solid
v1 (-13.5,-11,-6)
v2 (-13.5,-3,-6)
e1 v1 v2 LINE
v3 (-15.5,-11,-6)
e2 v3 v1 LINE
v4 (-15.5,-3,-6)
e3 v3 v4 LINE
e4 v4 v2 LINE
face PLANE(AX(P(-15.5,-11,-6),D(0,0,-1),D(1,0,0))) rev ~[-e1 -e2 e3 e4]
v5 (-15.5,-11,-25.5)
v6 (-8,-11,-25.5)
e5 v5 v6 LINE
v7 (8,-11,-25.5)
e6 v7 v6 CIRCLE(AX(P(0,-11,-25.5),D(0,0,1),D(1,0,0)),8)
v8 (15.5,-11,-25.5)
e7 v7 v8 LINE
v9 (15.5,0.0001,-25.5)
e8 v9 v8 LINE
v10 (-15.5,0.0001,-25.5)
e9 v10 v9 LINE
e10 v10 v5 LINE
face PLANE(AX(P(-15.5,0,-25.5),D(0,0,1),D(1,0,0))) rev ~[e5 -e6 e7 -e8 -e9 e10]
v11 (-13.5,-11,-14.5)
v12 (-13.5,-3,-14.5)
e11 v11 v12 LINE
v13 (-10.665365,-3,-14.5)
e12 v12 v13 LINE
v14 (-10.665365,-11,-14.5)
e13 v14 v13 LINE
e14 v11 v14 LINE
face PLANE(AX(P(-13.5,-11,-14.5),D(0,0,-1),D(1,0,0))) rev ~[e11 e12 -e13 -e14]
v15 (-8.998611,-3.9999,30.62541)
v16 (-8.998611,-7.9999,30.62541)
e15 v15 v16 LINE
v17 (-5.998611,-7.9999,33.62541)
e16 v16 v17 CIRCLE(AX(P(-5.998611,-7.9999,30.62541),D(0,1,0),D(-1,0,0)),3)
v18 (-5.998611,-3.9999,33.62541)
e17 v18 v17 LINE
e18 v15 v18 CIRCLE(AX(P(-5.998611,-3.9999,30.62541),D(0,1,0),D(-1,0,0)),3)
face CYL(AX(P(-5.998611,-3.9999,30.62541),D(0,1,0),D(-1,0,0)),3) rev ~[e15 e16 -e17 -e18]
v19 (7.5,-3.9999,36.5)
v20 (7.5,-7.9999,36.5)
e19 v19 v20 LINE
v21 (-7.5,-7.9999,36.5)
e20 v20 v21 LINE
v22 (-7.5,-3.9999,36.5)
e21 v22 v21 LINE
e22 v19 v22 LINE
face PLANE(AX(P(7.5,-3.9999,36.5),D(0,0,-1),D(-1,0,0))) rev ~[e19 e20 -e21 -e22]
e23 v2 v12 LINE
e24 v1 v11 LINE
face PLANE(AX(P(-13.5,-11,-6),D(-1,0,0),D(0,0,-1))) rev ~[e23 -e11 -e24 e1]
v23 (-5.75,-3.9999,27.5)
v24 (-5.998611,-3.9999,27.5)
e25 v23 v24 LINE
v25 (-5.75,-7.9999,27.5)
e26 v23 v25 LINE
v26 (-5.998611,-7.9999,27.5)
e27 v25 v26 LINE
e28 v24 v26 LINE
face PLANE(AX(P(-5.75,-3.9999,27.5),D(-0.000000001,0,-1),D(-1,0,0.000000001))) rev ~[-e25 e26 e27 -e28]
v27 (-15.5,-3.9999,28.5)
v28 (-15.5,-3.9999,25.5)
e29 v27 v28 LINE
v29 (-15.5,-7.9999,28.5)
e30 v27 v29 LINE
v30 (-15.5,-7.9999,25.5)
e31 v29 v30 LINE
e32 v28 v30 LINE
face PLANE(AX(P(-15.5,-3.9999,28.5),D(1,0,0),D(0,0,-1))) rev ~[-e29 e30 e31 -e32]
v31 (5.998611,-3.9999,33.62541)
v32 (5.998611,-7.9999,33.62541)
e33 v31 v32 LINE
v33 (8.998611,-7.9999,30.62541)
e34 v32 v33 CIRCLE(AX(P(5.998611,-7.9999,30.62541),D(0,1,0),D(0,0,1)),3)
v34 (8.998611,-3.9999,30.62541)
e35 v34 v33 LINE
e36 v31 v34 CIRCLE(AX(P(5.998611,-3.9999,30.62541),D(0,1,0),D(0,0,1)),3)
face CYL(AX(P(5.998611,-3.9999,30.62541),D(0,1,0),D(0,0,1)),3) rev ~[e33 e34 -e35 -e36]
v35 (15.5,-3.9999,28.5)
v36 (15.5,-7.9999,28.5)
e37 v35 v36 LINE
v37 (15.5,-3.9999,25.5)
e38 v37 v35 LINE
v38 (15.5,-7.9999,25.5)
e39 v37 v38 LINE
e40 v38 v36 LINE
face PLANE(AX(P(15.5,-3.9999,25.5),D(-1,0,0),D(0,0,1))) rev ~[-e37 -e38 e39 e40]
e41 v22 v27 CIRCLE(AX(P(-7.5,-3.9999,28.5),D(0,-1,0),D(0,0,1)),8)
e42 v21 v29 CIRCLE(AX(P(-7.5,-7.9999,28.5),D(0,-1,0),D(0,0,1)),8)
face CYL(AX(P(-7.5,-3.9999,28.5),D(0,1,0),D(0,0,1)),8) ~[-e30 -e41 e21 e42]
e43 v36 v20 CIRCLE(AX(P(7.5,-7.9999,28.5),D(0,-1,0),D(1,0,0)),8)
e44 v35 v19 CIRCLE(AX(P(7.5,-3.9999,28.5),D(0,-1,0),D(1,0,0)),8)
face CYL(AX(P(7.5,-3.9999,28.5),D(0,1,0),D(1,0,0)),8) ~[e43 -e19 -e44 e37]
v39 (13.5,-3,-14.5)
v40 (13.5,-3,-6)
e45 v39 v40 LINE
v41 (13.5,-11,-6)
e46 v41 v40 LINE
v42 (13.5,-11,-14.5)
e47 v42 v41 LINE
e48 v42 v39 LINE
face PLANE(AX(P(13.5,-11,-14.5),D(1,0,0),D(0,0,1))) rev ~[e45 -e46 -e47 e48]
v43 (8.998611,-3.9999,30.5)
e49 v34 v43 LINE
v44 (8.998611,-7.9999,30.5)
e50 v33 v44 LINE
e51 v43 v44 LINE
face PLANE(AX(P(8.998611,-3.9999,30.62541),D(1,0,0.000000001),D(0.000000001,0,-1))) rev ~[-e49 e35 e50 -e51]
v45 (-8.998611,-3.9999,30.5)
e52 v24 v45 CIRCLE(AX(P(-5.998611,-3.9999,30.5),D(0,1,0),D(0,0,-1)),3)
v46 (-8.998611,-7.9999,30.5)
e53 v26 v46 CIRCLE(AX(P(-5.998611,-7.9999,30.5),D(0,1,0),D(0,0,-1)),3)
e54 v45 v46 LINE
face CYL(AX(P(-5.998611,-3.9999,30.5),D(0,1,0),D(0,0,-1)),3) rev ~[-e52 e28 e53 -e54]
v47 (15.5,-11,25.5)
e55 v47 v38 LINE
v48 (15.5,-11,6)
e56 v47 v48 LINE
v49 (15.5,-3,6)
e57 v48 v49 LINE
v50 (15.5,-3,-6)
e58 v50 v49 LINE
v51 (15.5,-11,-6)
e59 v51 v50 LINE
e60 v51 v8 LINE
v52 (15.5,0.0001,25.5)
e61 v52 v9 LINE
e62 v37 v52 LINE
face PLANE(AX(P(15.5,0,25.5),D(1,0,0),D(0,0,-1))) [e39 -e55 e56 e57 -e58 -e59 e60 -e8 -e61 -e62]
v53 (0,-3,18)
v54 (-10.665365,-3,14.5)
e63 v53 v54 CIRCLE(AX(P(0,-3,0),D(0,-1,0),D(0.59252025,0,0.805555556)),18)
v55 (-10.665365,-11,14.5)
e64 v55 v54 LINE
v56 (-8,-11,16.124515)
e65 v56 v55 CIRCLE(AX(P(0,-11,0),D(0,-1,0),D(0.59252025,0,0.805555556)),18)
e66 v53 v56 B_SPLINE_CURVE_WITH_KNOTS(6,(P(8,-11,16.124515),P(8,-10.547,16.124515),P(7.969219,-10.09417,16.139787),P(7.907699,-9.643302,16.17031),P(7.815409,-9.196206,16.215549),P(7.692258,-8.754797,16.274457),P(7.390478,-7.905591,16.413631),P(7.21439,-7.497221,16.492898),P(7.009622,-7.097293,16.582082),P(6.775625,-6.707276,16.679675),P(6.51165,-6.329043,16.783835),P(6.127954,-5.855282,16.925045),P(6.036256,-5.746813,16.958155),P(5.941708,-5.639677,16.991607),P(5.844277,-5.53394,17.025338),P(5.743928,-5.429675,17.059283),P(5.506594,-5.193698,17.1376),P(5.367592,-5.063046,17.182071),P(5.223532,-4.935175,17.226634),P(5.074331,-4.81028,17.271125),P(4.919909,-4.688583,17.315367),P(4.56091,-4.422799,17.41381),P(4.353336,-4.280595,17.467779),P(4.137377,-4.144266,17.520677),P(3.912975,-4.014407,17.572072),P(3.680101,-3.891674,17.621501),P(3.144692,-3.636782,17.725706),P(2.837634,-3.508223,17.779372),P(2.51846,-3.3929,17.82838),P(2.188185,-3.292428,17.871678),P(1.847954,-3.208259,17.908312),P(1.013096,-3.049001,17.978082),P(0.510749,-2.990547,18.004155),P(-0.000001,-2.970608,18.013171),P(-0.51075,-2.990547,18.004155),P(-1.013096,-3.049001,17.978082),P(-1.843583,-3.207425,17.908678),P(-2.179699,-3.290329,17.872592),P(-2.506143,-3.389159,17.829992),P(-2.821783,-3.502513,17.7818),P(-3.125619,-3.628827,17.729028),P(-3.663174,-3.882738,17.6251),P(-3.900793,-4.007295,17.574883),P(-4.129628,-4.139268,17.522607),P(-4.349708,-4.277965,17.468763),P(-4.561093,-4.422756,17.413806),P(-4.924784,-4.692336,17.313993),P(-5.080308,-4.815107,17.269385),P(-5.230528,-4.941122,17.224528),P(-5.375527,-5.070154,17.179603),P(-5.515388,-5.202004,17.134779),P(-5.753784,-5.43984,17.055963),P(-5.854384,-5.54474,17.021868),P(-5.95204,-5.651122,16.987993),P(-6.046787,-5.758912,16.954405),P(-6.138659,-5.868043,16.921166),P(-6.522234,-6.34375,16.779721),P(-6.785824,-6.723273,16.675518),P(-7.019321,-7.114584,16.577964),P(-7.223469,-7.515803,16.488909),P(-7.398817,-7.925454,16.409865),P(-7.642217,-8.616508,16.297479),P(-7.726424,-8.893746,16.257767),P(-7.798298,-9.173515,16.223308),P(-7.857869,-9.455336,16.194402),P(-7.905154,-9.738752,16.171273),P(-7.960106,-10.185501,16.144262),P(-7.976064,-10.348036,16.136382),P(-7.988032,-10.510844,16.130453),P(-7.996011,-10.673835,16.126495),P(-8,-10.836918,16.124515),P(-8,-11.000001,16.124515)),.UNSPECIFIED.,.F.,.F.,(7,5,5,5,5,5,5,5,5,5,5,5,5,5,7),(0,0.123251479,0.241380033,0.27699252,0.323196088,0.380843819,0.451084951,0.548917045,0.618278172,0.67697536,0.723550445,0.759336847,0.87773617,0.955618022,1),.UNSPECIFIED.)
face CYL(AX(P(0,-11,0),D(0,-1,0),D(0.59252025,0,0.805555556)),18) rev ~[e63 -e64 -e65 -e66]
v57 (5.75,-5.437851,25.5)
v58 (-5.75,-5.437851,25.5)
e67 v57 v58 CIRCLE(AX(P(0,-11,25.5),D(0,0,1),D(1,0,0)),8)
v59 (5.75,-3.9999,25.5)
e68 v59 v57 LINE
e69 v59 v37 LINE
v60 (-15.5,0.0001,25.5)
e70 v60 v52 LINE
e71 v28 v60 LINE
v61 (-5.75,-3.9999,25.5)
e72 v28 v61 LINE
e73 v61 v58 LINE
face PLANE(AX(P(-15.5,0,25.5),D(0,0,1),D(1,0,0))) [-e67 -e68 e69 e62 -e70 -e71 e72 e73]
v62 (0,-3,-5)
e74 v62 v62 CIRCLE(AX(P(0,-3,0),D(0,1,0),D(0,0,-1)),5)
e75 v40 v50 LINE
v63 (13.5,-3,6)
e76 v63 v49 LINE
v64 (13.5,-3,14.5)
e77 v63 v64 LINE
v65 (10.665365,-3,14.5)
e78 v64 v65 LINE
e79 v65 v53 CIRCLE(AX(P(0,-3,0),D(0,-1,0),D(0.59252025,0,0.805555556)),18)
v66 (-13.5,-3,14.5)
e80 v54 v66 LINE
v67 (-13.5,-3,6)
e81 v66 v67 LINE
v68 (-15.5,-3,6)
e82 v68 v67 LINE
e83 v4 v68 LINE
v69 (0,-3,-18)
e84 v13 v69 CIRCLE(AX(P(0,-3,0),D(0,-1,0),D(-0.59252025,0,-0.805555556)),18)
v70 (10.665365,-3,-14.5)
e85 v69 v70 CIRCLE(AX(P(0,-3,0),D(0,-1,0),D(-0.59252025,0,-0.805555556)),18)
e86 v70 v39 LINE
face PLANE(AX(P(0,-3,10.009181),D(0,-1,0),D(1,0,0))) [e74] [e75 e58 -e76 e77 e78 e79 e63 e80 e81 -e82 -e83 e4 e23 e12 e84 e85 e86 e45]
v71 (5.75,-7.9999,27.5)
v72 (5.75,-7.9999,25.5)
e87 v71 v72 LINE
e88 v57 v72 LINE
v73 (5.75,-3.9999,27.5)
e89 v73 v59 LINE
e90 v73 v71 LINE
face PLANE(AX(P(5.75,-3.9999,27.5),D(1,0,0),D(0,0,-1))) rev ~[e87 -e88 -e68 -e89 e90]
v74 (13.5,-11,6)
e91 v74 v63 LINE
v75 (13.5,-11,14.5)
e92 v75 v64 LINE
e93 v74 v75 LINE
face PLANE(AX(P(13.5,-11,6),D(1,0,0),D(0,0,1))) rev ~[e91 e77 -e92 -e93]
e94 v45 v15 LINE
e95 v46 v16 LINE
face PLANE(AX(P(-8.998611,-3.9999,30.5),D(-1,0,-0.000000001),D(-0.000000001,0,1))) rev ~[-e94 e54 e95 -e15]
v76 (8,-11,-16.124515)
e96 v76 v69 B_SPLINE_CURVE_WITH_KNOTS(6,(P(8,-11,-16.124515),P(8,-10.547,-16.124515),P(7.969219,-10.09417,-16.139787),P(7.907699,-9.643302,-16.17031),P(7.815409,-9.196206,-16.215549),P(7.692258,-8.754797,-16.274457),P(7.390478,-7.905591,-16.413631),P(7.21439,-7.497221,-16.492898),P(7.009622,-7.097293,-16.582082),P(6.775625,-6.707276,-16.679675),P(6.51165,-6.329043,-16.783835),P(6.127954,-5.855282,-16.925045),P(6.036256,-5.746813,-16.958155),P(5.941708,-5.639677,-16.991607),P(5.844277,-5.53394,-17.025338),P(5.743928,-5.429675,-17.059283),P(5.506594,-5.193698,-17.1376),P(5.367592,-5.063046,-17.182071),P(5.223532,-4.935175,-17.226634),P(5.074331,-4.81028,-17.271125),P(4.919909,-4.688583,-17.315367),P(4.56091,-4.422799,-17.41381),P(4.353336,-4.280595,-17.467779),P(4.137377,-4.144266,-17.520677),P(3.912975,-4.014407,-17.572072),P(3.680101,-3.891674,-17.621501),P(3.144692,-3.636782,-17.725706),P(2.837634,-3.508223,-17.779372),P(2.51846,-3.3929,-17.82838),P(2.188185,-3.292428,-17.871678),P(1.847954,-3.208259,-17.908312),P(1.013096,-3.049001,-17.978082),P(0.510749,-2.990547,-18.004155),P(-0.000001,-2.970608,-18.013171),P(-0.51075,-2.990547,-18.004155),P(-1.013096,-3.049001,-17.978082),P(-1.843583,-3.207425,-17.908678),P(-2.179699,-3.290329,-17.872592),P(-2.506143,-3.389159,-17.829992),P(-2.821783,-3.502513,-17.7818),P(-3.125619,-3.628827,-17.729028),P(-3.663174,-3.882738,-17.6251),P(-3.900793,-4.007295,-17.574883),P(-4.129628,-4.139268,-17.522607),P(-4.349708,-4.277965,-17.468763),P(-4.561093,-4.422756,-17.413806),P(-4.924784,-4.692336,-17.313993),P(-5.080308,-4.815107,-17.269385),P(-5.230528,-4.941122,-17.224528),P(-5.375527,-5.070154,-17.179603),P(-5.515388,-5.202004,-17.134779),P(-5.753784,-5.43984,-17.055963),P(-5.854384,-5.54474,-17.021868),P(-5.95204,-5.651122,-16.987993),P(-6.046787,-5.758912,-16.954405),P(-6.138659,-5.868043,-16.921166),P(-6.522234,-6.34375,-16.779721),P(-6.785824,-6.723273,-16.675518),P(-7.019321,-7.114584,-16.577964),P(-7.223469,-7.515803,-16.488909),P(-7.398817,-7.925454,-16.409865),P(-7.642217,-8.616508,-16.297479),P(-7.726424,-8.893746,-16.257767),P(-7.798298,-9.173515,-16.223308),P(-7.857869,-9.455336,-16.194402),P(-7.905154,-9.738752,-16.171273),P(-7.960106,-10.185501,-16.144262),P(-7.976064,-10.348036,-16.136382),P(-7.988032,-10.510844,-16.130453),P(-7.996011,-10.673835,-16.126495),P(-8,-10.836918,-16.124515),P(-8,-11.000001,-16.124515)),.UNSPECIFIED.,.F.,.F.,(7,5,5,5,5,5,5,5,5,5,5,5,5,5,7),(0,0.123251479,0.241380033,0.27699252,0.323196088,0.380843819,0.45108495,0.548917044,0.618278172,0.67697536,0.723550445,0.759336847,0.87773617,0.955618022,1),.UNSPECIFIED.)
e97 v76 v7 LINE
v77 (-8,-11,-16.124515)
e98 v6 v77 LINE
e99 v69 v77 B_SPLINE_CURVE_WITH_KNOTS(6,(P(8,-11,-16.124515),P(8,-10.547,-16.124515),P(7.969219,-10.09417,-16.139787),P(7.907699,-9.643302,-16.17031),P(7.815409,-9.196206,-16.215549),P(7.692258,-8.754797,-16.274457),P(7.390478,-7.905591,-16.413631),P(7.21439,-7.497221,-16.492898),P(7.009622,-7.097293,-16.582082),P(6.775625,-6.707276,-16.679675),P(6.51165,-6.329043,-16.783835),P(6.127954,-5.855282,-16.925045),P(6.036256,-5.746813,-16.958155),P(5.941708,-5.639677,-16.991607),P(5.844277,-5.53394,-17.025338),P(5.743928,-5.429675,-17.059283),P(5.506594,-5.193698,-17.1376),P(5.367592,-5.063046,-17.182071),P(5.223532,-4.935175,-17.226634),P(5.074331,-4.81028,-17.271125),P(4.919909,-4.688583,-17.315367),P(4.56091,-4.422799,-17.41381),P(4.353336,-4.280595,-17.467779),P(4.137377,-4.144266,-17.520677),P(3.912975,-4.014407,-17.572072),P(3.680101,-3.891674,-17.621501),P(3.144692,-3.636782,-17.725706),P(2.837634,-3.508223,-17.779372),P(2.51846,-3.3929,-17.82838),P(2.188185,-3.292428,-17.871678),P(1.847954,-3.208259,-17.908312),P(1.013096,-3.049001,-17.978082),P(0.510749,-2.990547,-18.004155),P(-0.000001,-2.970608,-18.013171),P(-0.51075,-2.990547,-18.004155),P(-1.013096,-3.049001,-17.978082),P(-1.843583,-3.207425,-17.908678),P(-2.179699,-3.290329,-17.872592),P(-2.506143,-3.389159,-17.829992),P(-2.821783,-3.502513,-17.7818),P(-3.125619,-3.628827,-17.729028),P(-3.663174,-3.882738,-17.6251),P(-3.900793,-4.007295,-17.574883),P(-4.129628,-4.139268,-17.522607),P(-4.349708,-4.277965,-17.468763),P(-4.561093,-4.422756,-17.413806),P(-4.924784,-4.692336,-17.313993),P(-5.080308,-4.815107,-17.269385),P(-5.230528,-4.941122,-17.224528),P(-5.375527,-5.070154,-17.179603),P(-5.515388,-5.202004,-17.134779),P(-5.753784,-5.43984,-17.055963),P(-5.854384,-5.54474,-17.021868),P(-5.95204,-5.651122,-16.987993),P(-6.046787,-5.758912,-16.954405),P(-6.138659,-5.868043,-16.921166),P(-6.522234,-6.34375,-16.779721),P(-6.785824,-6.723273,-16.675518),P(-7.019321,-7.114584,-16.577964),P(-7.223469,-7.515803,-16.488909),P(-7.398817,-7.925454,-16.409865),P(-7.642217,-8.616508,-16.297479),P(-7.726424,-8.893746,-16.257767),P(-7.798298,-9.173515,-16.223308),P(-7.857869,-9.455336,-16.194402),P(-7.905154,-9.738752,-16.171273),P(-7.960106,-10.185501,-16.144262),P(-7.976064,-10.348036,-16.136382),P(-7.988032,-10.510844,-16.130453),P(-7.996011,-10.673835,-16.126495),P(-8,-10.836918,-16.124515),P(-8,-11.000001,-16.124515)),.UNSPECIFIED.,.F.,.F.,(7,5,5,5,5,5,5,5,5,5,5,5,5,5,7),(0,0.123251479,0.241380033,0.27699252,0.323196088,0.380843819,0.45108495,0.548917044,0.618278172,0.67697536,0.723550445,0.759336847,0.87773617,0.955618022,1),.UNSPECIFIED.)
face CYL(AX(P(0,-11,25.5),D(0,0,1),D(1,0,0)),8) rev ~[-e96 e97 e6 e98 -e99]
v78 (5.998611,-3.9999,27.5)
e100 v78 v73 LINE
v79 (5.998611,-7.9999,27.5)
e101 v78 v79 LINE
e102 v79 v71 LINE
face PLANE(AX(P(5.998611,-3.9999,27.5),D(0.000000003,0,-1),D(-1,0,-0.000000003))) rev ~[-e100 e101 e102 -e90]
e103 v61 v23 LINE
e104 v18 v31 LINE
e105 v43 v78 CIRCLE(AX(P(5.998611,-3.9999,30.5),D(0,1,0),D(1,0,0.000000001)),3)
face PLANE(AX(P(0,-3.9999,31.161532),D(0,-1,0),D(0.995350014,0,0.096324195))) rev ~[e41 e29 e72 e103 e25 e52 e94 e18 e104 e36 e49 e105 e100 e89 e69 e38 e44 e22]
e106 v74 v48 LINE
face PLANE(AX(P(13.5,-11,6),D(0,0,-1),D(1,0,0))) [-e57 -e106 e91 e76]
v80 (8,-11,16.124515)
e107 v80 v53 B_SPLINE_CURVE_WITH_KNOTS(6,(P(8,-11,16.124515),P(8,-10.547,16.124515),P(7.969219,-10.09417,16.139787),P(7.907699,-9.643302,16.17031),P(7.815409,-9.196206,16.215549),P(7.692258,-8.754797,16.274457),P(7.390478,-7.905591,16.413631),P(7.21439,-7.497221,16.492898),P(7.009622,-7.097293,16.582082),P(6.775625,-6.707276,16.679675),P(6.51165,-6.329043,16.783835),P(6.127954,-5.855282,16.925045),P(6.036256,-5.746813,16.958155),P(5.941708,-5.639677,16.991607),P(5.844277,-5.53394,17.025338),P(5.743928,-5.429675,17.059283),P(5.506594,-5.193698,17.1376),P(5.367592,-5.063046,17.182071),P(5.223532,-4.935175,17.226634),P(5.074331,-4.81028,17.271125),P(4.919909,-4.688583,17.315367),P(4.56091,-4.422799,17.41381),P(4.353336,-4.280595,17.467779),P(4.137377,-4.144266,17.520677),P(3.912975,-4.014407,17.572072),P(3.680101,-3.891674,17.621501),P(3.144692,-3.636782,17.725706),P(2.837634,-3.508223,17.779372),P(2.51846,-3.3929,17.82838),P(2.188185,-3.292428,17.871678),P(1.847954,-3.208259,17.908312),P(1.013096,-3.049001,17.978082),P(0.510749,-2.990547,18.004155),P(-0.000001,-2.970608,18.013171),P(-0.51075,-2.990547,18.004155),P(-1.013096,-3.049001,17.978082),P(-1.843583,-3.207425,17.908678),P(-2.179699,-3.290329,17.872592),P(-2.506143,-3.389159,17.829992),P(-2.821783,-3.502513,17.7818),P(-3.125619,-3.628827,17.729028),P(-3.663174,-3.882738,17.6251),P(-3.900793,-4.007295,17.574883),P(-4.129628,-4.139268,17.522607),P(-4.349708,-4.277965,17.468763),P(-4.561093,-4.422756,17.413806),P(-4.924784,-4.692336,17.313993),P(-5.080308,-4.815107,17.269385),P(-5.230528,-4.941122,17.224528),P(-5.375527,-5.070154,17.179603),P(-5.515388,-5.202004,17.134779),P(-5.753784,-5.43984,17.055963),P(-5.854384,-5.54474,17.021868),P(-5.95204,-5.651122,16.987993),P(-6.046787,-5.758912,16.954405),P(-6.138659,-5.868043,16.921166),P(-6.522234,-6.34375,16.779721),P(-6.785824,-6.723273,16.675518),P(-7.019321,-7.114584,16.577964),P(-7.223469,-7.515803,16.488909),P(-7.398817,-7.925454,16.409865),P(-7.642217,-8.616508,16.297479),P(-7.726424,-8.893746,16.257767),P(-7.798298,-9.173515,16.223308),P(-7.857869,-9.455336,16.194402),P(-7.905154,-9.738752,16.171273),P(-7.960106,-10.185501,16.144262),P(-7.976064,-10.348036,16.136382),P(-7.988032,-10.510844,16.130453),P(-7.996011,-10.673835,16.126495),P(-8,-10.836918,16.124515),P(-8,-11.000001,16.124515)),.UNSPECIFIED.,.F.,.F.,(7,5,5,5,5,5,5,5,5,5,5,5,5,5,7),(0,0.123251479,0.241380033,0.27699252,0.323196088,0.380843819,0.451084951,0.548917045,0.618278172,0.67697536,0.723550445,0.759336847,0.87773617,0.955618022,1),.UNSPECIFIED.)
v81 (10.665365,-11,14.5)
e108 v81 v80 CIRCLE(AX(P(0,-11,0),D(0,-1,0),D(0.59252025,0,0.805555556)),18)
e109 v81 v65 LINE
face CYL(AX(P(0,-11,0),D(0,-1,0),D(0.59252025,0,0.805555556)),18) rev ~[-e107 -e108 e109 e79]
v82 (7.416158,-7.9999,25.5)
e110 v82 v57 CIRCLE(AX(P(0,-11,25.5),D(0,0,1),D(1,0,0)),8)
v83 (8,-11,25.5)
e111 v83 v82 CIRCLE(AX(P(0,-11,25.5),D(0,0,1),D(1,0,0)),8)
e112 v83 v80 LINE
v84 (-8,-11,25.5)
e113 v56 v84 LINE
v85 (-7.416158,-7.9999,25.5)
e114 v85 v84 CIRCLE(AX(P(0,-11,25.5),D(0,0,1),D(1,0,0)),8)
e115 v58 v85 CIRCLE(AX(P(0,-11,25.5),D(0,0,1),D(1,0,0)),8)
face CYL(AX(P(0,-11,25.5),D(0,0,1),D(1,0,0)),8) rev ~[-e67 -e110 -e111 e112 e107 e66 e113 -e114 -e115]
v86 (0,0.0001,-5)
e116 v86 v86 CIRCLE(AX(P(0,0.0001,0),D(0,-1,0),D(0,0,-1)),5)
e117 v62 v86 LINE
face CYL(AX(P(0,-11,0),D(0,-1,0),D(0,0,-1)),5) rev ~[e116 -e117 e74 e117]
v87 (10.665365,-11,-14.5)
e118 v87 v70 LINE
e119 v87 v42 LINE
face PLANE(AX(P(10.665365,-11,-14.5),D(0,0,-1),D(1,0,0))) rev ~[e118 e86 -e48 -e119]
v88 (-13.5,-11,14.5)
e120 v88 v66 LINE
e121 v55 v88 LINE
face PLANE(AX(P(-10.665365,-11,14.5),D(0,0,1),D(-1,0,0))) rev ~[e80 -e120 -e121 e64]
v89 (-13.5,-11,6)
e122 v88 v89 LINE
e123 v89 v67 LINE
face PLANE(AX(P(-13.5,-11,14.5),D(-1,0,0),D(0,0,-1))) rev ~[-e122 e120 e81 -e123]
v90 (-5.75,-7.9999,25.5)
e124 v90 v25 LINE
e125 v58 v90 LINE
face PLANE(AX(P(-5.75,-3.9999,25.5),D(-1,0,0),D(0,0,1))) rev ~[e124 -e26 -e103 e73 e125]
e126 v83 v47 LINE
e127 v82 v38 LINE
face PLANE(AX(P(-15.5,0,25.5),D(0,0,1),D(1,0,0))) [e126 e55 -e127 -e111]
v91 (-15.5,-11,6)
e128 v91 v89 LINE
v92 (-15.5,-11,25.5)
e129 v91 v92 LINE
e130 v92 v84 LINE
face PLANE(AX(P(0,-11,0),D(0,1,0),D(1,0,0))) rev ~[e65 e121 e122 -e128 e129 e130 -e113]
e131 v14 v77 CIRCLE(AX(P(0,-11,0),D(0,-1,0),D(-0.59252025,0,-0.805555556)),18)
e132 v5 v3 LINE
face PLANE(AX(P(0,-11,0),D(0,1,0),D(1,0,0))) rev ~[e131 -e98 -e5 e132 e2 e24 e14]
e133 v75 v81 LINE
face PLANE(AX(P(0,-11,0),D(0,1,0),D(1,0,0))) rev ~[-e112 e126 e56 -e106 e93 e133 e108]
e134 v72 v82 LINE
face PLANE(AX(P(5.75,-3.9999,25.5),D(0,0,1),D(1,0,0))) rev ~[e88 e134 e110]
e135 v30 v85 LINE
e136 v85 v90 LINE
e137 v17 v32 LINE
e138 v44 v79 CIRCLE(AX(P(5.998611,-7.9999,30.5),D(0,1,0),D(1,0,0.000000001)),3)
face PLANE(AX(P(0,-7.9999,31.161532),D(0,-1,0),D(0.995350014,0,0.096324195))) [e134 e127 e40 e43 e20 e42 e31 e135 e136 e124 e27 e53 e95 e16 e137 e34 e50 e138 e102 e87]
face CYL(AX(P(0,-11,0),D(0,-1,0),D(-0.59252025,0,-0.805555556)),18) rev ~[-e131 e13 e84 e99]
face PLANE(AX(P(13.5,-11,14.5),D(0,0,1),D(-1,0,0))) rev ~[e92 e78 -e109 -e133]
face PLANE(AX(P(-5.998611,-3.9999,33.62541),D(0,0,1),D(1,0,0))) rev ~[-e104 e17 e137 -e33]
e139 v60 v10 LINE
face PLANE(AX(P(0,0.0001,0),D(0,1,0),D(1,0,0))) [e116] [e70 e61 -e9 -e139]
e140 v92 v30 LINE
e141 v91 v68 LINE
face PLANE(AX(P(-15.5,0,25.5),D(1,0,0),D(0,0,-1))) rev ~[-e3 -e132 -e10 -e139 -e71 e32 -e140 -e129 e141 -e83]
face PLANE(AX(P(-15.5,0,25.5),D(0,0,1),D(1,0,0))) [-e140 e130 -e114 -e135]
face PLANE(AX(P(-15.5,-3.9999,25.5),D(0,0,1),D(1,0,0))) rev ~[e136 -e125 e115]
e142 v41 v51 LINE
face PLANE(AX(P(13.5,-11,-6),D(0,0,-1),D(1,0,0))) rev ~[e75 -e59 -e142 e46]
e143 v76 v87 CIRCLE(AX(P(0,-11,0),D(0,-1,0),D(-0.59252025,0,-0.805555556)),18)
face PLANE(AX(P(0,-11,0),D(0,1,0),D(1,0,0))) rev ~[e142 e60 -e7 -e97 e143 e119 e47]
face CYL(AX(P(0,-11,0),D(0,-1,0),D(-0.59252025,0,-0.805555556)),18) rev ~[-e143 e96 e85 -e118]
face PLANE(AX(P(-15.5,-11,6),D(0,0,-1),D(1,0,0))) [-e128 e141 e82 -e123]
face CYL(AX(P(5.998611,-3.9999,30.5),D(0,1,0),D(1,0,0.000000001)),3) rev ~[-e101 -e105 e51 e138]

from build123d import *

# Parameters (mm, degrees)
SKETCH_1_W               = 31
SKETCH_1_H               = 51
EXTRUDE_1_DEPTH          = 0.0001
EXTRUDE_1_DEPTH_BACK     = 11
SKETCH_2_W               = 27
SKETCH_2_H               = 12
SKETCH_2_R               = 5
SKETCH_2_W_2             = 2
CUT_EXTRUDE_1_DEPTH      = 0.0001
CUT_EXTRUDE_1_DEPTH_BACK = 8
SKETCH_3_R               = 5
CUT_EXTRUDE_3_DEPTH      = 12
SKETCH_4_R               = 8
CUT_EXTRUDE_4_DEPTH      = 102
EXTRUDE_2_DEPTH          = 4


with BuildPart() as part:
    # Эскиз1 → Бобышка-Вытянуть1 (new, two sides)
    with BuildSketch(Plane(origin=(0, 0, 0), x_dir=(1, 0, 0), z_dir=(0, 1, 0))) as extrude_1_sk:
        Rectangle(SKETCH_1_W, SKETCH_1_H)
    extrude(amount=EXTRUDE_1_DEPTH)
    extrude(extrude_1_sk.sketch, amount=-EXTRUDE_1_DEPTH_BACK)

    # Эскиз2 → Вырез-Вытянуть1 (cut, two sides)
    with BuildSketch(Plane.XZ.offset(11)) as cut_extrude_1_sk:
        with BuildLine():
            Line((-13.5, 11.9058809), (-13.5, 6))
            Line((-13.5, 6), (13.5, 6))
            Line((13.5, 6), (13.5, 11.9058809))
            ThreePointArc((13.5, 11.9058809), (12.152101624, 13.27879611), (10.665364504, 14.5))
            Line((10.665364504, 14.5), (-10.665364504, 14.5))
            ThreePointArc((-10.665364504, 14.5), (-12.152101624, 13.27879611), (-13.5, 11.9058809))
        make_face()
        Rectangle(SKETCH_2_W, SKETCH_2_H)
        with Locations(Location((0, 0, 0), (0, 0, 90))):
            Circle(SKETCH_2_R, mode=Mode.SUBTRACT)
        with Locations((-14.5, 0)):
            Rectangle(SKETCH_2_W_2, SKETCH_2_H)
        with Locations((14.5, 0)):
            Rectangle(SKETCH_2_W_2, SKETCH_2_H)
        with BuildLine():
            Line((13.5, -6), (-13.5, -6))
            Line((-13.5, -6), (-13.5, -11.9058809))
            ThreePointArc((-13.5, -11.9058809), (-12.152101624, -13.27879611), (-10.665364504, -14.5))
            Line((-10.665364504, -14.5), (10.665364504, -14.5))
            ThreePointArc((10.665364504, -14.5), (12.152101624, -13.27879611), (13.5, -11.9058809))
            Line((13.5, -11.9058809), (13.5, -6))
        make_face()
        with BuildLine():
            Line((13.5, -14.5), (13.5, -11.9058809))
            ThreePointArc((13.5, -11.9058809), (12.152101624, -13.27879611), (10.665364504, -14.5))
            Line((10.665364504, -14.5), (13.5, -14.5))
        make_face()
        with BuildLine():
            Line((10.665364504, -14.5), (-10.665364504, -14.5))
            ThreePointArc((-10.665364504, -14.5), (0, -18), (10.665364504, -14.5))
        make_face()
        with BuildLine():
            ThreePointArc((-10.665364504, -14.5), (-12.152101624, -13.27879611), (-13.5, -11.9058809))
            Line((-13.5, -11.9058809), (-13.5, -14.5))
            Line((-13.5, -14.5), (-10.665364504, -14.5))
        make_face()
        with BuildLine():
            Line((-13.5, 14.5), (-13.5, 11.9058809))
            ThreePointArc((-13.5, 11.9058809), (-12.152101624, 13.27879611), (-10.665364504, 14.5))
            Line((-10.665364504, 14.5), (-13.5, 14.5))
        make_face()
        with BuildLine():
            ThreePointArc((10.665364504, 14.5), (0, 18), (-10.665364504, 14.5))
            Line((-10.665364504, 14.5), (10.665364504, 14.5))
        make_face()
        with BuildLine():
            ThreePointArc((10.665364504, 14.5), (12.152101624, 13.27879611), (13.5, 11.9058809))
            Line((13.5, 11.9058809), (13.5, 14.5))
            Line((13.5, 14.5), (10.665364504, 14.5))
        make_face()
    extrude(amount=CUT_EXTRUDE_1_DEPTH, mode=Mode.SUBTRACT)
    extrude(cut_extrude_1_sk.sketch, amount=-CUT_EXTRUDE_1_DEPTH_BACK, mode=Mode.SUBTRACT)

    # Эскиз3 → Вырез-Вытянуть3 (cut)
    with BuildSketch(Plane.XZ.offset(11)):
        with Locations(Location((0, 0, 0), (0, 0, 270))):
            Circle(SKETCH_3_R)
    extrude(amount=-CUT_EXTRUDE_3_DEPTH, mode=Mode.SUBTRACT)

    # Эскиз4 → Вырез-Вытянуть4 (cut)
    with BuildSketch(Plane.XY.offset(25.5)):
        with Locations((0, -11)):
            Circle(SKETCH_4_R)
    extrude(amount=-CUT_EXTRUDE_4_DEPTH, mode=Mode.SUBTRACT)

    # Sketch 1 2 → Бобышка-Вытянуть2 (add)
    with BuildSketch(Plane(origin=(-15.5, -3.9999, 25.5), x_dir=(0.9953500135553002, 0, 0.0963241948601902), z_dir=(0, -1, 0))):
        with BuildLine():
            Line((0, 0), (9.704662632, -0.9391609))
            Line((9.704662632, -0.9391609), (9.897311022, 1.051539127))
            Line((9.897311022, 1.051539127), (9.649856542, 1.075486335))
            ThreePointArc((9.649856542, 1.075486335), (7.62303842, 2.154414617), (6.952779086, 4.35050896))
            Line((6.952779086, 4.35050896), (6.964859124, 4.475336021))
            ThreePointArc((6.964859124, 4.475336021), (8.043787406, 6.502154143), (10.239881749, 7.172413477))
            Line((10.239881749, 7.172413477), (22.181315865, 6.01679082))
            ThreePointArc((22.181315865, 6.01679082), (24.208133987, 4.937862538), (24.878393321, 2.741768195))
            Line((24.878393321, 2.741768195), (24.866313283, 2.616941135))
            ThreePointArc((24.866313283, 2.616941135), (23.787385001, 0.590123012), (21.591290658, -0.080136321))
            Line((21.591290658, -0.080136321), (21.343836178, -0.056189114))
            Line((21.343836178, -0.056189114), (21.151187788, -2.046889141))
            Line((21.151187788, -2.046889141), (30.85585042, -2.986050041))
            Line((30.85585042, -2.986050041), (31.144823005, 0))
            ThreePointArc((31.144823005, 0), (29.357464781, 5.856251582), (23.952616455, 8.733393667))
            Line((23.952616455, 8.733393667), (9.022366252, 10.17825659))
            ThreePointArc((9.022366252, 10.17825659), (3.16611467, 8.390898367), (0.288972585, 2.986050041))
            Line((0.288972585, 2.986050041), (0, 0))
        make_face()
    extrude(amount=EXTRUDE_2_DEPTH)


solid = part.part
